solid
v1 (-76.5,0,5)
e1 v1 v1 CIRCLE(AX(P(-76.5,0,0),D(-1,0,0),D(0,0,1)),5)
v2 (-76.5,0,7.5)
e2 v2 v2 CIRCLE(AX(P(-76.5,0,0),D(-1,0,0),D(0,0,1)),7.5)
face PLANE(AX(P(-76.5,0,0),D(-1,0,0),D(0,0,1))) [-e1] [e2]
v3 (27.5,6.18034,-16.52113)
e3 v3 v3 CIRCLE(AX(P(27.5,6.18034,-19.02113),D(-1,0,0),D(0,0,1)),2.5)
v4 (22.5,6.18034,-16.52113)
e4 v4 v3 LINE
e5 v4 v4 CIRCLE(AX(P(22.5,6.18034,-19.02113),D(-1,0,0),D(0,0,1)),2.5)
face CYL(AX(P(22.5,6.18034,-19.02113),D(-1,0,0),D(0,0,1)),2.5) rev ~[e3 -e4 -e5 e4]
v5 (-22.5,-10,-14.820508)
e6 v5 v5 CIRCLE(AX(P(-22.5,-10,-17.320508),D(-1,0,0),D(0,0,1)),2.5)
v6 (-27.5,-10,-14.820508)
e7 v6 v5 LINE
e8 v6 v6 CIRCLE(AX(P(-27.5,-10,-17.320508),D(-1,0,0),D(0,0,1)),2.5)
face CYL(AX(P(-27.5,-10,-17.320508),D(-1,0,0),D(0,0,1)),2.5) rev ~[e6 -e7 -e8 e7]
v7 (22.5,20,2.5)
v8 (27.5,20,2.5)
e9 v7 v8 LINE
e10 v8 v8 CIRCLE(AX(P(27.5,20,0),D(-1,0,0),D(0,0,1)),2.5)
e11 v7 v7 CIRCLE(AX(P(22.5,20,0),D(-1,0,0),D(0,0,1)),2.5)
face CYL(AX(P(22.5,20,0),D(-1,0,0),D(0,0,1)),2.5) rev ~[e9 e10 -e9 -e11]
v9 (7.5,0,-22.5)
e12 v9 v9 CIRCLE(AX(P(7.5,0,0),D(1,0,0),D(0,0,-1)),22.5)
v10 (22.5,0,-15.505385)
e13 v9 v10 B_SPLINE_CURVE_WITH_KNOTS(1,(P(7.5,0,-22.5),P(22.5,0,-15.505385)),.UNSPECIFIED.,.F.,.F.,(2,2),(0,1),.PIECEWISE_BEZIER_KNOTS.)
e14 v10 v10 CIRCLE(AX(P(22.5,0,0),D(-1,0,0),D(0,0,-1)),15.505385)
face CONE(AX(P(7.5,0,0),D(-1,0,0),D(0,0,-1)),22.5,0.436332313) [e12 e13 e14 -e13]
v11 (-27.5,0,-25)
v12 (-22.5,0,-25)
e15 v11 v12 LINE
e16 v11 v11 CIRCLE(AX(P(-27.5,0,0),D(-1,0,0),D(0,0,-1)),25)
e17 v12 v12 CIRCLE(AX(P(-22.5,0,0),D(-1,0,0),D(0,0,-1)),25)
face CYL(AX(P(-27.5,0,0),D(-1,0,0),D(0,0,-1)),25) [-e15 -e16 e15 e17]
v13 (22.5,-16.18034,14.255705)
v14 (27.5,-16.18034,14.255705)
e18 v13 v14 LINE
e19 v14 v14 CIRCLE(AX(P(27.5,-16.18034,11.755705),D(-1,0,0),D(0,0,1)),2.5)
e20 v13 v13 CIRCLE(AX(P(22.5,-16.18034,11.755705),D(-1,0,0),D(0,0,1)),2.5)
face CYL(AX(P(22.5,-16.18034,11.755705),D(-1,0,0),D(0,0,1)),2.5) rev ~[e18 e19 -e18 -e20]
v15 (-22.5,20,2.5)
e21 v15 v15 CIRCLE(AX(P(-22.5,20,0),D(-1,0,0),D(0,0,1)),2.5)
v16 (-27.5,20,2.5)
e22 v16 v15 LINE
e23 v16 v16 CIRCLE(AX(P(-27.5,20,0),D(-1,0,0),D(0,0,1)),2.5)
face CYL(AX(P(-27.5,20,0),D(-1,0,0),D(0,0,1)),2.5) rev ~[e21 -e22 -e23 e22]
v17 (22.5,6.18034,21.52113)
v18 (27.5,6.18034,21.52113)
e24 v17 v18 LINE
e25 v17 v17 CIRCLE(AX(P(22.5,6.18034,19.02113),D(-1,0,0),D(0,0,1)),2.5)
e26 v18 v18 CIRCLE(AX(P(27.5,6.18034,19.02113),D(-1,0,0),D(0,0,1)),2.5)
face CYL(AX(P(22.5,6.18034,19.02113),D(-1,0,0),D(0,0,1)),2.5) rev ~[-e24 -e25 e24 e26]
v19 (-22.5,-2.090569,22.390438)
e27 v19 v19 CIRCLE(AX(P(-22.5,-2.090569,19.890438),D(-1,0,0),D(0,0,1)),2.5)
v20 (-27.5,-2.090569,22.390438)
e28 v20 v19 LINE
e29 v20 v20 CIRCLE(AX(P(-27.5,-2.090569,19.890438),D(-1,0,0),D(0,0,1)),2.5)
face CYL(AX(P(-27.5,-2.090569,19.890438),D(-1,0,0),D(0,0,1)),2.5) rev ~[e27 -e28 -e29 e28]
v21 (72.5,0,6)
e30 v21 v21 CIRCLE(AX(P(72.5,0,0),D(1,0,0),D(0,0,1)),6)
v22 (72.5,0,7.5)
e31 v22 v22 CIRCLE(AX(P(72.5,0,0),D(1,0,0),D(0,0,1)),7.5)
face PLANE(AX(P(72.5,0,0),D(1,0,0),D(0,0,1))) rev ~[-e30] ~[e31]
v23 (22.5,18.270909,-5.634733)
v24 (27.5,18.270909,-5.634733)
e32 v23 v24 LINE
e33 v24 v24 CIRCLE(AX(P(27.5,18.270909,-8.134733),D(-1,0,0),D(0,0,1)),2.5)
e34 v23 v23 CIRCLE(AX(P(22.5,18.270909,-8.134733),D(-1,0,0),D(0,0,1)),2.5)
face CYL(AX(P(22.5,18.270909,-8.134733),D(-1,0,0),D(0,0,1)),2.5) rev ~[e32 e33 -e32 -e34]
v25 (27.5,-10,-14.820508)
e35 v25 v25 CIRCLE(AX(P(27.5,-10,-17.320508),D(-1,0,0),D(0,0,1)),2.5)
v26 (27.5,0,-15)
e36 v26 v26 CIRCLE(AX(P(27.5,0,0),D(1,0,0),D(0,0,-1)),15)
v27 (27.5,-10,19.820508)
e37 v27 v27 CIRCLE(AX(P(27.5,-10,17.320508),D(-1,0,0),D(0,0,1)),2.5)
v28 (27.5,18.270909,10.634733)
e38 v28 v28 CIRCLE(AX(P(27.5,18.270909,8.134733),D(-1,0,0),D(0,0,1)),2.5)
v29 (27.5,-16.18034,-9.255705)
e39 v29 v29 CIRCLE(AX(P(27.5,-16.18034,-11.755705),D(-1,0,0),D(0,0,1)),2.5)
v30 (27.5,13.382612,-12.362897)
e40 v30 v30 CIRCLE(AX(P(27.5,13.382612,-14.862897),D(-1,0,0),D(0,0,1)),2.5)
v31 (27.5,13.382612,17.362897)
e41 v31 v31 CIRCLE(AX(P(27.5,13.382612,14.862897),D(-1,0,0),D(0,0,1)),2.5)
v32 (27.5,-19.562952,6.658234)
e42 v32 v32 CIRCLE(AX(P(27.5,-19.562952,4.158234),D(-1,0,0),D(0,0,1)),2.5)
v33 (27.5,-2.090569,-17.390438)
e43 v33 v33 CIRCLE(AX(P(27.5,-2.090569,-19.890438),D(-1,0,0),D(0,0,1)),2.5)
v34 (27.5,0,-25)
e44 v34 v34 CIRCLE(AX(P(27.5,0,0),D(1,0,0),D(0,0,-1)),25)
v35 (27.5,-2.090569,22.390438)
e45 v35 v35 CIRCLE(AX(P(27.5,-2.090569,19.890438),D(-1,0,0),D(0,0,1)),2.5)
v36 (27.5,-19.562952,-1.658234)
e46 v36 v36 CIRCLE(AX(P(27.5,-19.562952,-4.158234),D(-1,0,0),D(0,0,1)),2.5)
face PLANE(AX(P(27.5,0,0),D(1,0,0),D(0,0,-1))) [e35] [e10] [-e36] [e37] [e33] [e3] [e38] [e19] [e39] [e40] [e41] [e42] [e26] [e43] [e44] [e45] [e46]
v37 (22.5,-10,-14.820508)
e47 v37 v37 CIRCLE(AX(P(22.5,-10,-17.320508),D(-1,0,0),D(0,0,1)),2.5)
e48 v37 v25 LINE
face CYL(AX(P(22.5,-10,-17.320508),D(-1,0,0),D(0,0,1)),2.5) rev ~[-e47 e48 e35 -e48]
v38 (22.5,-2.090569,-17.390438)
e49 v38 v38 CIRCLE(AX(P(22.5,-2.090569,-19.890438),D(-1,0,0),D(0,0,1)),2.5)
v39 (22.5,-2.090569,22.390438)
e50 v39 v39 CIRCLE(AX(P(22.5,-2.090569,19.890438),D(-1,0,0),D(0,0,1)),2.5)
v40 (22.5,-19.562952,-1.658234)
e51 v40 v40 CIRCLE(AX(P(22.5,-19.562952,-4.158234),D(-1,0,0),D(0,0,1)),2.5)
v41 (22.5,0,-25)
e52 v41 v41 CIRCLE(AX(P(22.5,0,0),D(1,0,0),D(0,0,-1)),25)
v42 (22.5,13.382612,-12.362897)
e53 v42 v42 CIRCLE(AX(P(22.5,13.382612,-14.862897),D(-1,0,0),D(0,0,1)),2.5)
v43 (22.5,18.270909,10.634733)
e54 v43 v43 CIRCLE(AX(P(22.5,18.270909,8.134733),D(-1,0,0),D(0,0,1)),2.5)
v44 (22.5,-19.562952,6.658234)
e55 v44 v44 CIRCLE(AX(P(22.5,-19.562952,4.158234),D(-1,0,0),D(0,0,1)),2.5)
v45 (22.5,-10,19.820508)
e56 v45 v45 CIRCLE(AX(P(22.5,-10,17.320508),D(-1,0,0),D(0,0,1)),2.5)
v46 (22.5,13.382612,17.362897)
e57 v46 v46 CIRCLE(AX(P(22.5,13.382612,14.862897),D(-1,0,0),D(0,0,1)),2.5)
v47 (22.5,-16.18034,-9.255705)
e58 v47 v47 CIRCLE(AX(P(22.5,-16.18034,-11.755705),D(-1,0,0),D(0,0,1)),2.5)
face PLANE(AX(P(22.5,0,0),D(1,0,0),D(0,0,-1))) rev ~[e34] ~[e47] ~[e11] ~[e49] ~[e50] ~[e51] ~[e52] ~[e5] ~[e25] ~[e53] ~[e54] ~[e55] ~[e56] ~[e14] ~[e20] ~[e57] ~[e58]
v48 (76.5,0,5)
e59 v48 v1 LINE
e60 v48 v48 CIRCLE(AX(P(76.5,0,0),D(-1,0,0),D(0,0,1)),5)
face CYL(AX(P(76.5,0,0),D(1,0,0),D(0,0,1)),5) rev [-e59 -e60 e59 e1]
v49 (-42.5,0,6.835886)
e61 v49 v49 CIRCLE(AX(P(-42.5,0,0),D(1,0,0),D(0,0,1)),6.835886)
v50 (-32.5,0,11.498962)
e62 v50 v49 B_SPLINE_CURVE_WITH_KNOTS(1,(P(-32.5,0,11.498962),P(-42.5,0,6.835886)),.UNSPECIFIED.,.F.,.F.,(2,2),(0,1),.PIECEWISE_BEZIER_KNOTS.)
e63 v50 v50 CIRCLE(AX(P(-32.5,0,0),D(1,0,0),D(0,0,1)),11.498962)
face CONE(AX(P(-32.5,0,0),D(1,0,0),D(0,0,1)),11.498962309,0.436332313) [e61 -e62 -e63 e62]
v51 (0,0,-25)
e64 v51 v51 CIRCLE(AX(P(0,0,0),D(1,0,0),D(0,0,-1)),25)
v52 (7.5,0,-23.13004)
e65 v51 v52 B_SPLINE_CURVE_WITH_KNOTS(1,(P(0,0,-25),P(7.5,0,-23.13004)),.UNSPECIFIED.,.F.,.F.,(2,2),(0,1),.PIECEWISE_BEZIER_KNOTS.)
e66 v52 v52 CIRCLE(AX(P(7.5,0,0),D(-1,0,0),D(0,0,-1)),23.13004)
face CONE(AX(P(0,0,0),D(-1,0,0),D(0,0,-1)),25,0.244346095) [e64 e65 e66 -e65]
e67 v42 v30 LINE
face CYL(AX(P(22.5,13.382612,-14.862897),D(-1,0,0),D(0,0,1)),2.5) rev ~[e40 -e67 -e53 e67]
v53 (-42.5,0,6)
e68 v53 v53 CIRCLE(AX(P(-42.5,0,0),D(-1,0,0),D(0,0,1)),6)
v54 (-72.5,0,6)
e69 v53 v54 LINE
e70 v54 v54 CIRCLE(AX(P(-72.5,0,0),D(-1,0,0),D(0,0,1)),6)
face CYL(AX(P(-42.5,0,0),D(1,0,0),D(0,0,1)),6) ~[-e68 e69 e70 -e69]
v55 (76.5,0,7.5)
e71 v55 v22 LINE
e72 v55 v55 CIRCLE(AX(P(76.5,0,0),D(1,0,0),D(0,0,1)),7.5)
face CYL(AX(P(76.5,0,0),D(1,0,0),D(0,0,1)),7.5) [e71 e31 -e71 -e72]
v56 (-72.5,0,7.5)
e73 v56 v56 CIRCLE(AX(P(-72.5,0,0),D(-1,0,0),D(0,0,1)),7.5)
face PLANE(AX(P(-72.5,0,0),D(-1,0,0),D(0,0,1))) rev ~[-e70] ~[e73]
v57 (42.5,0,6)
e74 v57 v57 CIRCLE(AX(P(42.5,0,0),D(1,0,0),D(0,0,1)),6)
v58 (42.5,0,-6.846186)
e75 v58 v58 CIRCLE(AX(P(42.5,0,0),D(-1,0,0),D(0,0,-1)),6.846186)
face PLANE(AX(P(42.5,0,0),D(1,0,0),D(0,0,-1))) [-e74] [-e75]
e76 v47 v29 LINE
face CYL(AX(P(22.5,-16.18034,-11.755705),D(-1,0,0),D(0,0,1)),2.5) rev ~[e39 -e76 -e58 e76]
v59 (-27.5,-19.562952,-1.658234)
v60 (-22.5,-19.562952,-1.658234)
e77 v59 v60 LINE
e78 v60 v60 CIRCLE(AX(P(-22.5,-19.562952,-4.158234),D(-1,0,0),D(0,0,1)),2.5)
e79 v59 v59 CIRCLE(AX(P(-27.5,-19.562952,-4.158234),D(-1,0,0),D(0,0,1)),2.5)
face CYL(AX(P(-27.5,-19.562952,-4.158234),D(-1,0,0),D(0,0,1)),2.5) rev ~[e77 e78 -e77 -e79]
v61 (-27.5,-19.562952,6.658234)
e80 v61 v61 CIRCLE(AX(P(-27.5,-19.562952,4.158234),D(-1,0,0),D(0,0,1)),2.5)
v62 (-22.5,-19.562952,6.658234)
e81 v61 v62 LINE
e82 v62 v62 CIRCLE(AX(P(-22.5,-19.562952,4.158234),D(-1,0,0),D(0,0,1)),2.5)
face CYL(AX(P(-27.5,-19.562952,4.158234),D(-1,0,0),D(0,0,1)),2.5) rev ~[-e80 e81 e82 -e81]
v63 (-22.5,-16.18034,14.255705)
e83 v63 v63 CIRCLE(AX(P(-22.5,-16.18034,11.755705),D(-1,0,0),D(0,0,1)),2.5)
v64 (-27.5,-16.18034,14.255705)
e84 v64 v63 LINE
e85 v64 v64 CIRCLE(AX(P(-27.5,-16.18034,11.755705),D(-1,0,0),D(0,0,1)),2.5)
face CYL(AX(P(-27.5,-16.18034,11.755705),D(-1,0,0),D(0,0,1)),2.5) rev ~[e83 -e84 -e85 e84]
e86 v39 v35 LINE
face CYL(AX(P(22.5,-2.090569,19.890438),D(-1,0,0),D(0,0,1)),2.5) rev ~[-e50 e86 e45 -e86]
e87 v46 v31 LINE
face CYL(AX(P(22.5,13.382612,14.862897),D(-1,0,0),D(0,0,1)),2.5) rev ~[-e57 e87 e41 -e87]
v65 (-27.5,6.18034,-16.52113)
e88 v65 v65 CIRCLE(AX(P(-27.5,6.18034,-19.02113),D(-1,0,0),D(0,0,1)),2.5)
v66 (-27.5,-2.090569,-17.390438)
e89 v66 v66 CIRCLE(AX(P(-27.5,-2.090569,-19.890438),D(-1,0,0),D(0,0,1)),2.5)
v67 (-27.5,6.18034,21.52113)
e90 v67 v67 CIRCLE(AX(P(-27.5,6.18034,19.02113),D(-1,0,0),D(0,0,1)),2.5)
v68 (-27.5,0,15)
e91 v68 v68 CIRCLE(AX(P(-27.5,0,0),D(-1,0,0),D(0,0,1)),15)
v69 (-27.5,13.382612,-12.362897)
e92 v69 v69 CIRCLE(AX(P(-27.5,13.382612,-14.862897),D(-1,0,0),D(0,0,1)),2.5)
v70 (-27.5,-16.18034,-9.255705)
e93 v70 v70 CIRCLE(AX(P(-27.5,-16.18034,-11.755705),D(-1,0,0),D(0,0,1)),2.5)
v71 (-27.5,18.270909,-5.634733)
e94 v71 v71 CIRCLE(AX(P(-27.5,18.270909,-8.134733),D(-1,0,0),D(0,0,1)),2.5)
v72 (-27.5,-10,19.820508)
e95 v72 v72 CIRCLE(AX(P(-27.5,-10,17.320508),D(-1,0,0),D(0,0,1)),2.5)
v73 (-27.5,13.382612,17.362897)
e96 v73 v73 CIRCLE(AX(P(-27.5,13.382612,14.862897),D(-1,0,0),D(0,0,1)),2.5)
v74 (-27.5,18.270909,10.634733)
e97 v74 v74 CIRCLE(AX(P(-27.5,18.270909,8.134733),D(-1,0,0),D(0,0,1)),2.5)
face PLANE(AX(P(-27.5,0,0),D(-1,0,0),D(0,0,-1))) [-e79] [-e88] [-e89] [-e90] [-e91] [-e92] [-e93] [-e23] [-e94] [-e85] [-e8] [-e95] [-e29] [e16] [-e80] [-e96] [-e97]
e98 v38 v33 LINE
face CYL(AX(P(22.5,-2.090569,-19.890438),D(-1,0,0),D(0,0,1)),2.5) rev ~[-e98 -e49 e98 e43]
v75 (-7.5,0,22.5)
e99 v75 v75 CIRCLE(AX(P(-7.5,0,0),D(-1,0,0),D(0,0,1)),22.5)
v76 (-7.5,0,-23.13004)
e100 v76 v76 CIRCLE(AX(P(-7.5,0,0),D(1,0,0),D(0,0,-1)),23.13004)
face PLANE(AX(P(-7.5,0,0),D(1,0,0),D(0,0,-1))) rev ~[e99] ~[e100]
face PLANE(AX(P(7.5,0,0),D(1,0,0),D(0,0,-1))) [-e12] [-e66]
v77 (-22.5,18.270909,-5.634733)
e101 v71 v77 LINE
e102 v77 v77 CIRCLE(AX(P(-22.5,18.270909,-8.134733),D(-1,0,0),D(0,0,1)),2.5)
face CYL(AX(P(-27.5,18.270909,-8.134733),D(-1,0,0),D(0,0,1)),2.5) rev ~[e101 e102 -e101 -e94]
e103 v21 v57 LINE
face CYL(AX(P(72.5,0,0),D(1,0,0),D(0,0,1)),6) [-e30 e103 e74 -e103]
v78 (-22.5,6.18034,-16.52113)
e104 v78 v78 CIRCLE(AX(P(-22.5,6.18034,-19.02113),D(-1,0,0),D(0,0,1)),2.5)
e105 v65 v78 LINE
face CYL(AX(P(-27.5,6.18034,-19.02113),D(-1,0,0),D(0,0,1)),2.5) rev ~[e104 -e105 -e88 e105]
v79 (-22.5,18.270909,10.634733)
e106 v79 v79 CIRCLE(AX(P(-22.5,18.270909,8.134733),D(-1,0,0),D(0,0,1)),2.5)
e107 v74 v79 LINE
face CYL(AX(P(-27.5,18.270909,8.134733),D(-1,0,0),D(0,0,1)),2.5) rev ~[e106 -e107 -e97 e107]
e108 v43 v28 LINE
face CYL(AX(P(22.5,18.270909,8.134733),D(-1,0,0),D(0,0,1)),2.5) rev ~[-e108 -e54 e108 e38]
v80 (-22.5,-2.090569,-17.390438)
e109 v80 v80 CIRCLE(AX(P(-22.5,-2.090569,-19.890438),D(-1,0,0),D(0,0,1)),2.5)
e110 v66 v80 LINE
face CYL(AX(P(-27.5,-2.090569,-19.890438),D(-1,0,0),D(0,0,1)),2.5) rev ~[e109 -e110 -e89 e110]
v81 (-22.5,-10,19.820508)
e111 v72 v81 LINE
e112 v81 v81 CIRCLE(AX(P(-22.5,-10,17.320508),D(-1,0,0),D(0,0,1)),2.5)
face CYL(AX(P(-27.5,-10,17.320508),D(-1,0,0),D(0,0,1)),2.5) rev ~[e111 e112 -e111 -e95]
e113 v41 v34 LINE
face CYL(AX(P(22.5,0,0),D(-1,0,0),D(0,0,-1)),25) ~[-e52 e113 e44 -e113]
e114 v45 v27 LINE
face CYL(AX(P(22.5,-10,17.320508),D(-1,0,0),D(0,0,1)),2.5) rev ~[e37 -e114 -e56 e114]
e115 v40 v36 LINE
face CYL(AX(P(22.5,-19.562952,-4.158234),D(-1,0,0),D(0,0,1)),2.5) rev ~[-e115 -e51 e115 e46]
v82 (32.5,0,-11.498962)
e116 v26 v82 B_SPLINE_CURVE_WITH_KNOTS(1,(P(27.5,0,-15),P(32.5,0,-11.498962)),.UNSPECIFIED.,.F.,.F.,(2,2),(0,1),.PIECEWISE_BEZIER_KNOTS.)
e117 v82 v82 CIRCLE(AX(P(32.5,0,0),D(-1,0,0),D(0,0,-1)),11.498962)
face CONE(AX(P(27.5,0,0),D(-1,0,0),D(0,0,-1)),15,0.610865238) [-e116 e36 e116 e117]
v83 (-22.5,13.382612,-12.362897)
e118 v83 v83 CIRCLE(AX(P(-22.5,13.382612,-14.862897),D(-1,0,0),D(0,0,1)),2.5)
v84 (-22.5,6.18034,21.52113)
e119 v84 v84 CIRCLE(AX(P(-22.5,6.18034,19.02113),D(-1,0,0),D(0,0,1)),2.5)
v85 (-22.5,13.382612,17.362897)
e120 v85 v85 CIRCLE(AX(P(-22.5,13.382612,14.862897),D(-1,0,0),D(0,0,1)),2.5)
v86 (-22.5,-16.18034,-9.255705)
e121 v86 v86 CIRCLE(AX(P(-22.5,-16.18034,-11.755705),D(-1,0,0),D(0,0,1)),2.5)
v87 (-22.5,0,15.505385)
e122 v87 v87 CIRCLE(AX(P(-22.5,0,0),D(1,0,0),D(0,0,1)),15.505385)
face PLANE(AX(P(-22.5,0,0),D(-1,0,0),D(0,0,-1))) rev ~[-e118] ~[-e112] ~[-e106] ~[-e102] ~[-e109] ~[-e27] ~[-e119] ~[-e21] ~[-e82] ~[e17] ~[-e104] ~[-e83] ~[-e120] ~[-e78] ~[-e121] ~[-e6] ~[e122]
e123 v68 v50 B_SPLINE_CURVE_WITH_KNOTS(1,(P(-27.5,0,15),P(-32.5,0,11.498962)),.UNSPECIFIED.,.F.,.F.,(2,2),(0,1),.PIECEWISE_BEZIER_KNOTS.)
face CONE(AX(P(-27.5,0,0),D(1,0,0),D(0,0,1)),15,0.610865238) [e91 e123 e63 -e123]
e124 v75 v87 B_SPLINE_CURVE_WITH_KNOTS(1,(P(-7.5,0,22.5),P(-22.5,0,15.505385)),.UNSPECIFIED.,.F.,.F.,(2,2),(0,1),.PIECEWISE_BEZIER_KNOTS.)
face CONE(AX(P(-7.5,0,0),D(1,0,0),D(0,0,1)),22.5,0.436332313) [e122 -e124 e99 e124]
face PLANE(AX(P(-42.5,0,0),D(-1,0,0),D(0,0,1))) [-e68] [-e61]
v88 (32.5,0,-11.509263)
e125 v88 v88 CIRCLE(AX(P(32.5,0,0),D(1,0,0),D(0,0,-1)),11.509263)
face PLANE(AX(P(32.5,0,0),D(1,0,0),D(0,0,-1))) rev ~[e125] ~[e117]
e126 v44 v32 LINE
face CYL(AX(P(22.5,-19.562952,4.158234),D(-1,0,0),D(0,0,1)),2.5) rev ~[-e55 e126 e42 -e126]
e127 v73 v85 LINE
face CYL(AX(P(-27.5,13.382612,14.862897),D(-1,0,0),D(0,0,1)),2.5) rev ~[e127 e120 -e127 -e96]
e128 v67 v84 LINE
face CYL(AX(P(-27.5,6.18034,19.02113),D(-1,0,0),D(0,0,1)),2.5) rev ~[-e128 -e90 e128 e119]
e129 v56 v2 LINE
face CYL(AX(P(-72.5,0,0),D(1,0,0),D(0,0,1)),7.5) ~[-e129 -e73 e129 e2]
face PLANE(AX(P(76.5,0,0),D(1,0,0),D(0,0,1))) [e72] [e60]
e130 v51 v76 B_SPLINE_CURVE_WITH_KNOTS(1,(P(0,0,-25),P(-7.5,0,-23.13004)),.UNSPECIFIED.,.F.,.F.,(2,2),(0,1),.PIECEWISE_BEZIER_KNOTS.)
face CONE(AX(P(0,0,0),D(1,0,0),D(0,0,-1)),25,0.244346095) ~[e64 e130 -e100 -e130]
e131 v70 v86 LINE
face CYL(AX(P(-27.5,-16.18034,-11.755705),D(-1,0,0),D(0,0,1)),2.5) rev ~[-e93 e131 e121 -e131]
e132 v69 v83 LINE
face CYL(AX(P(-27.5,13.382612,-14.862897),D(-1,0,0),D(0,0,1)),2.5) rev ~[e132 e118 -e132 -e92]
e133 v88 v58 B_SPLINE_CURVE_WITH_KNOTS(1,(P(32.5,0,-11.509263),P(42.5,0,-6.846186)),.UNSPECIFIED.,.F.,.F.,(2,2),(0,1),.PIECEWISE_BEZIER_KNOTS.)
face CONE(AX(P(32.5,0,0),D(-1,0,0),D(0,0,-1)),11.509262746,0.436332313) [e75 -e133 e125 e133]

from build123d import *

# Parameters (mm, degrees)
SKETCH1_R                     = 25
BOSS_EXTRUDE1_DEPTH           = 7.5
BOSS_EXTRUDE1_TAPER           = 14
BOSS_EXTRUDE1_OTHER_WAY_DEPTH = 7.5
BOSS_EXTRUDE1_OTHER_WAY_TAPER = 14
SKETCH2_R                     = 22.5
BOSS_EXTRUDE2_DEPTH           = 15
BOSS_EXTRUDE2_TAPER           = 25
SKETCH3_R                     = 22.5
BOSS_EXTRUDE3_DEPTH           = 15
BOSS_EXTRUDE3_TAPER           = 25
SKETCH4_R                     = 25
BOSS_EXTRUDE4_DEPTH           = 5
BOSS_EXTRUDE5_START           = 5
SKETCH5_R                     = 25
BOSS_EXTRUDE5_DEPTH           = 5
SKETCH6_R                     = 2.5
CUT_EXTRUDE1_DEPTH            = 5
CUT_EXTRUDE2_START            = -50
SKETCH6_2_R                   = 2.5
CUT_EXTRUDE2_DEPTH            = 5
SKETCH7_R                     = 15
BOSS_EXTRUDE6_DEPTH           = 5
BOSS_EXTRUDE6_TAPER           = 35
SKETCH8_R                     = 11.498962309
BOSS_EXTRUDE7_DEPTH           = 10
BOSS_EXTRUDE7_TAPER           = 25
SKETCH10_R                    = 6
BOSS_EXTRUDE8_DEPTH           = 30
SKETCH11_R                    = 7.5
BOSS_EXTRUDE10_DEPTH          = 4
SKETCH14_R                    = 15
BOSS_EXTRUDE11_DEPTH          = 5
BOSS_EXTRUDE11_TAPER          = 35
SKETCH16_R                    = 11.509262746
BOSS_EXTRUDE12_DEPTH          = 10
BOSS_EXTRUDE12_TAPER          = 25
BOSS_EXTRUDE13_START          = 30
SKETCH17_R                    = 6
BOSS_EXTRUDE13_DEPTH          = 30
BOSS_EXTRUDE14_START          = 4
SKETCH18_R                    = 7.5
BOSS_EXTRUDE14_DEPTH          = 4
CUT_EXTRUDE3_START            = -153
SKETCH20_R                    = 5
CUT_EXTRUDE3_DEPTH            = 153


with BuildPart() as part:
    # Sketch1 → Boss-Extrude1 (new body)
    with BuildSketch(Plane(origin=(0, 0, 0), x_dir=(0, 0, -1), z_dir=(1, 0, 0))):
        Circle(SKETCH1_R)
    extrude(amount=BOSS_EXTRUDE1_DEPTH, taper=BOSS_EXTRUDE1_TAPER)

    # Sketch1 → Boss-Extrude1 other way (add)
    with BuildSketch(Plane(origin=(0, 0, 0), x_dir=(0, 0, -1), z_dir=(1, 0, 0))):
        Circle(SKETCH1_R)
    extrude(amount=-BOSS_EXTRUDE1_OTHER_WAY_DEPTH, taper=BOSS_EXTRUDE1_OTHER_WAY_TAPER)

    # Sketch2 → Boss-Extrude2 (add)
    with BuildSketch(Plane.ZY.offset(7.5)):
        Circle(SKETCH2_R)
    extrude(amount=BOSS_EXTRUDE2_DEPTH, taper=BOSS_EXTRUDE2_TAPER)

    # Sketch3 → Boss-Extrude3 (add)
    with BuildSketch(Plane(origin=(7.5, 0, 0), x_dir=(0, 0, -1), z_dir=(1, 0, 0))):
        Circle(SKETCH3_R)
    extrude(amount=BOSS_EXTRUDE3_DEPTH, taper=BOSS_EXTRUDE3_TAPER)

    # Sketch4 → Boss-Extrude4 (add)
    with BuildSketch(Plane(origin=(22.5, 0, 0), x_dir=(0, 0, -1), z_dir=(1, 0, 0))):
        Circle(SKETCH4_R)
    extrude(amount=BOSS_EXTRUDE4_DEPTH)

    # Sketch5 → Boss-Extrude5 (add)
    with BuildSketch(Plane.ZY.offset(22.5).offset(BOSS_EXTRUDE5_START)):
        with Locations(Location((0, 0, 0), (0, 0, 180))):
            Circle(SKETCH5_R)
    extrude(amount=-BOSS_EXTRUDE5_DEPTH)

    # Sketch6 → Cut-Extrude1 (cut)
    with BuildSketch(Plane.ZY.offset(27.5)):
        with Locations((0, 20)):
            Circle(SKETCH6_R)
        with Locations((8.134732862, 18.270909153)):
            Circle(SKETCH6_R)
        with Locations((14.86289651, 13.382612127)):
            Circle(SKETCH6_R)
        with Locations((19.021130326, 6.180339888)):
            Circle(SKETCH6_R)
        with Locations((19.890437907, -2.090569265)):
            Circle(SKETCH6_R)
        with Locations((17.320508076, -10)):
            Circle(SKETCH6_R)
        with Locations((11.755705046, -16.180339887)):
            Circle(SKETCH6_R)
        with Locations((4.158233816, -19.562952015)):
            Circle(SKETCH6_R)
        with Locations((-4.158233816, -19.562952015)):
            Circle(SKETCH6_R)
        with Locations((-11.755705046, -16.180339888)):
            Circle(SKETCH6_R)
        with Locations((-17.320508076, -10)):
            Circle(SKETCH6_R)
        with Locations((-19.890437907, -2.090569265)):
            Circle(SKETCH6_R)
        with Locations((-19.021130326, 6.180339887)):
            Circle(SKETCH6_R)
        with Locations((-14.86289651, 13.382612127)):
            Circle(SKETCH6_R)
        with Locations((-8.134732862, 18.270909153)):
            Circle(SKETCH6_R)
    extrude(amount=-CUT_EXTRUDE1_DEPTH, mode=Mode.SUBTRACT)

    # Sketch6<2> → Cut-Extrude2 (cut)
    with BuildSketch(Plane.ZY.offset(27.5).offset(CUT_EXTRUDE2_START)):
        with Locations((0, 20)):
            Circle(SKETCH6_2_R)
        with Locations((8.134732862, 18.270909153)):
            Circle(SKETCH6_2_R)
        with Locations((14.86289651, 13.382612127)):
            Circle(SKETCH6_2_R)
        with Locations((19.021130326, 6.180339888)):
            Circle(SKETCH6_2_R)
        with Locations((19.890437907, -2.090569265)):
            Circle(SKETCH6_2_R)
        with Locations((17.320508076, -10)):
            Circle(SKETCH6_2_R)
        with Locations((11.755705046, -16.180339887)):
            Circle(SKETCH6_2_R)
        with Locations((4.158233816, -19.562952015)):
            Circle(SKETCH6_2_R)
        with Locations((-4.158233816, -19.562952015)):
            Circle(SKETCH6_2_R)
        with Locations((-11.755705046, -16.180339888)):
            Circle(SKETCH6_2_R)
        with Locations((-17.320508076, -10)):
            Circle(SKETCH6_2_R)
        with Locations((-19.890437907, -2.090569265)):
            Circle(SKETCH6_2_R)
        with Locations((-19.021130326, 6.180339887)):
            Circle(SKETCH6_2_R)
        with Locations((-14.86289651, 13.382612127)):
            Circle(SKETCH6_2_R)
        with Locations((-8.134732862, 18.270909153)):
            Circle(SKETCH6_2_R)
    extrude(amount=-CUT_EXTRUDE2_DEPTH, mode=Mode.SUBTRACT)

    # Sketch7 → Boss-Extrude6 (add)
    with BuildSketch(Plane.ZY.offset(27.5)):
        Circle(SKETCH7_R)
    extrude(amount=BOSS_EXTRUDE6_DEPTH, taper=BOSS_EXTRUDE6_TAPER)

    # Sketch8 → Boss-Extrude7 (add)
    with BuildSketch(Plane.ZY.offset(32.5)):
        Circle(SKETCH8_R)
    extrude(amount=BOSS_EXTRUDE7_DEPTH, taper=BOSS_EXTRUDE7_TAPER)

    # Sketch10 → Boss-Extrude8 (add)
    with BuildSketch(Plane.ZY.offset(42.5)):
        Circle(SKETCH10_R)
    extrude(amount=BOSS_EXTRUDE8_DEPTH)

    # Sketch11 → Boss-Extrude10 (add)
    with BuildSketch(Plane.ZY.offset(72.5)):
        Circle(SKETCH11_R)
    extrude(amount=BOSS_EXTRUDE10_DEPTH)

    # Sketch14 → Boss-Extrude11 (add)
    with BuildSketch(Plane(origin=(27.5, 0, 0), x_dir=(0, 0, -1), z_dir=(1, 0, 0))):
        Circle(SKETCH14_R)
    extrude(amount=BOSS_EXTRUDE11_DEPTH, taper=BOSS_EXTRUDE11_TAPER)

    # Sketch16 → Boss-Extrude12 (add)
    with BuildSketch(Plane(origin=(32.5, 0, 0), x_dir=(0, 0, -1), z_dir=(1, 0, 0))):
        Circle(SKETCH16_R)
    extrude(amount=BOSS_EXTRUDE12_DEPTH, taper=BOSS_EXTRUDE12_TAPER)

    # Sketch17 → Boss-Extrude13 (add)
    with BuildSketch(Plane(origin=(42.5, 0, 0), x_dir=(0, 0, -1), z_dir=(1, 0, 0)).offset(BOSS_EXTRUDE13_START)):
        with Locations(Location((0, 0, 0), (0, 0, 180))):
            Circle(SKETCH17_R)
    extrude(amount=-BOSS_EXTRUDE13_DEPTH)

    # Sketch18 → Boss-Extrude14 (add)
    with BuildSketch(Plane(origin=(72.5, 0, 0), x_dir=(0, 0, -1), z_dir=(1, 0, 0)).offset(BOSS_EXTRUDE14_START)):
        with Locations(Location((0, 0, 0), (0, 0, 180))):
            Circle(SKETCH18_R)
    extrude(amount=-BOSS_EXTRUDE14_DEPTH)

    # Sketch20 → Cut-Extrude3 (cut)
    with BuildSketch(Plane.ZY.offset(76.5).offset(CUT_EXTRUDE3_START)):
        Circle(SKETCH20_R)
    cut_extrude3 = extrude(amount=CUT_EXTRUDE3_DEPTH, mode=Mode.SUBTRACT)

    # Mirror1: Cut-Extrude3 across plane
    add(cut_extrude3.mirror(Plane(origin=(0, 0, 0), x_dir=(0, 0, 1), z_dir=(1, 0, 0))), mode=Mode.SUBTRACT)


solid = part.part
